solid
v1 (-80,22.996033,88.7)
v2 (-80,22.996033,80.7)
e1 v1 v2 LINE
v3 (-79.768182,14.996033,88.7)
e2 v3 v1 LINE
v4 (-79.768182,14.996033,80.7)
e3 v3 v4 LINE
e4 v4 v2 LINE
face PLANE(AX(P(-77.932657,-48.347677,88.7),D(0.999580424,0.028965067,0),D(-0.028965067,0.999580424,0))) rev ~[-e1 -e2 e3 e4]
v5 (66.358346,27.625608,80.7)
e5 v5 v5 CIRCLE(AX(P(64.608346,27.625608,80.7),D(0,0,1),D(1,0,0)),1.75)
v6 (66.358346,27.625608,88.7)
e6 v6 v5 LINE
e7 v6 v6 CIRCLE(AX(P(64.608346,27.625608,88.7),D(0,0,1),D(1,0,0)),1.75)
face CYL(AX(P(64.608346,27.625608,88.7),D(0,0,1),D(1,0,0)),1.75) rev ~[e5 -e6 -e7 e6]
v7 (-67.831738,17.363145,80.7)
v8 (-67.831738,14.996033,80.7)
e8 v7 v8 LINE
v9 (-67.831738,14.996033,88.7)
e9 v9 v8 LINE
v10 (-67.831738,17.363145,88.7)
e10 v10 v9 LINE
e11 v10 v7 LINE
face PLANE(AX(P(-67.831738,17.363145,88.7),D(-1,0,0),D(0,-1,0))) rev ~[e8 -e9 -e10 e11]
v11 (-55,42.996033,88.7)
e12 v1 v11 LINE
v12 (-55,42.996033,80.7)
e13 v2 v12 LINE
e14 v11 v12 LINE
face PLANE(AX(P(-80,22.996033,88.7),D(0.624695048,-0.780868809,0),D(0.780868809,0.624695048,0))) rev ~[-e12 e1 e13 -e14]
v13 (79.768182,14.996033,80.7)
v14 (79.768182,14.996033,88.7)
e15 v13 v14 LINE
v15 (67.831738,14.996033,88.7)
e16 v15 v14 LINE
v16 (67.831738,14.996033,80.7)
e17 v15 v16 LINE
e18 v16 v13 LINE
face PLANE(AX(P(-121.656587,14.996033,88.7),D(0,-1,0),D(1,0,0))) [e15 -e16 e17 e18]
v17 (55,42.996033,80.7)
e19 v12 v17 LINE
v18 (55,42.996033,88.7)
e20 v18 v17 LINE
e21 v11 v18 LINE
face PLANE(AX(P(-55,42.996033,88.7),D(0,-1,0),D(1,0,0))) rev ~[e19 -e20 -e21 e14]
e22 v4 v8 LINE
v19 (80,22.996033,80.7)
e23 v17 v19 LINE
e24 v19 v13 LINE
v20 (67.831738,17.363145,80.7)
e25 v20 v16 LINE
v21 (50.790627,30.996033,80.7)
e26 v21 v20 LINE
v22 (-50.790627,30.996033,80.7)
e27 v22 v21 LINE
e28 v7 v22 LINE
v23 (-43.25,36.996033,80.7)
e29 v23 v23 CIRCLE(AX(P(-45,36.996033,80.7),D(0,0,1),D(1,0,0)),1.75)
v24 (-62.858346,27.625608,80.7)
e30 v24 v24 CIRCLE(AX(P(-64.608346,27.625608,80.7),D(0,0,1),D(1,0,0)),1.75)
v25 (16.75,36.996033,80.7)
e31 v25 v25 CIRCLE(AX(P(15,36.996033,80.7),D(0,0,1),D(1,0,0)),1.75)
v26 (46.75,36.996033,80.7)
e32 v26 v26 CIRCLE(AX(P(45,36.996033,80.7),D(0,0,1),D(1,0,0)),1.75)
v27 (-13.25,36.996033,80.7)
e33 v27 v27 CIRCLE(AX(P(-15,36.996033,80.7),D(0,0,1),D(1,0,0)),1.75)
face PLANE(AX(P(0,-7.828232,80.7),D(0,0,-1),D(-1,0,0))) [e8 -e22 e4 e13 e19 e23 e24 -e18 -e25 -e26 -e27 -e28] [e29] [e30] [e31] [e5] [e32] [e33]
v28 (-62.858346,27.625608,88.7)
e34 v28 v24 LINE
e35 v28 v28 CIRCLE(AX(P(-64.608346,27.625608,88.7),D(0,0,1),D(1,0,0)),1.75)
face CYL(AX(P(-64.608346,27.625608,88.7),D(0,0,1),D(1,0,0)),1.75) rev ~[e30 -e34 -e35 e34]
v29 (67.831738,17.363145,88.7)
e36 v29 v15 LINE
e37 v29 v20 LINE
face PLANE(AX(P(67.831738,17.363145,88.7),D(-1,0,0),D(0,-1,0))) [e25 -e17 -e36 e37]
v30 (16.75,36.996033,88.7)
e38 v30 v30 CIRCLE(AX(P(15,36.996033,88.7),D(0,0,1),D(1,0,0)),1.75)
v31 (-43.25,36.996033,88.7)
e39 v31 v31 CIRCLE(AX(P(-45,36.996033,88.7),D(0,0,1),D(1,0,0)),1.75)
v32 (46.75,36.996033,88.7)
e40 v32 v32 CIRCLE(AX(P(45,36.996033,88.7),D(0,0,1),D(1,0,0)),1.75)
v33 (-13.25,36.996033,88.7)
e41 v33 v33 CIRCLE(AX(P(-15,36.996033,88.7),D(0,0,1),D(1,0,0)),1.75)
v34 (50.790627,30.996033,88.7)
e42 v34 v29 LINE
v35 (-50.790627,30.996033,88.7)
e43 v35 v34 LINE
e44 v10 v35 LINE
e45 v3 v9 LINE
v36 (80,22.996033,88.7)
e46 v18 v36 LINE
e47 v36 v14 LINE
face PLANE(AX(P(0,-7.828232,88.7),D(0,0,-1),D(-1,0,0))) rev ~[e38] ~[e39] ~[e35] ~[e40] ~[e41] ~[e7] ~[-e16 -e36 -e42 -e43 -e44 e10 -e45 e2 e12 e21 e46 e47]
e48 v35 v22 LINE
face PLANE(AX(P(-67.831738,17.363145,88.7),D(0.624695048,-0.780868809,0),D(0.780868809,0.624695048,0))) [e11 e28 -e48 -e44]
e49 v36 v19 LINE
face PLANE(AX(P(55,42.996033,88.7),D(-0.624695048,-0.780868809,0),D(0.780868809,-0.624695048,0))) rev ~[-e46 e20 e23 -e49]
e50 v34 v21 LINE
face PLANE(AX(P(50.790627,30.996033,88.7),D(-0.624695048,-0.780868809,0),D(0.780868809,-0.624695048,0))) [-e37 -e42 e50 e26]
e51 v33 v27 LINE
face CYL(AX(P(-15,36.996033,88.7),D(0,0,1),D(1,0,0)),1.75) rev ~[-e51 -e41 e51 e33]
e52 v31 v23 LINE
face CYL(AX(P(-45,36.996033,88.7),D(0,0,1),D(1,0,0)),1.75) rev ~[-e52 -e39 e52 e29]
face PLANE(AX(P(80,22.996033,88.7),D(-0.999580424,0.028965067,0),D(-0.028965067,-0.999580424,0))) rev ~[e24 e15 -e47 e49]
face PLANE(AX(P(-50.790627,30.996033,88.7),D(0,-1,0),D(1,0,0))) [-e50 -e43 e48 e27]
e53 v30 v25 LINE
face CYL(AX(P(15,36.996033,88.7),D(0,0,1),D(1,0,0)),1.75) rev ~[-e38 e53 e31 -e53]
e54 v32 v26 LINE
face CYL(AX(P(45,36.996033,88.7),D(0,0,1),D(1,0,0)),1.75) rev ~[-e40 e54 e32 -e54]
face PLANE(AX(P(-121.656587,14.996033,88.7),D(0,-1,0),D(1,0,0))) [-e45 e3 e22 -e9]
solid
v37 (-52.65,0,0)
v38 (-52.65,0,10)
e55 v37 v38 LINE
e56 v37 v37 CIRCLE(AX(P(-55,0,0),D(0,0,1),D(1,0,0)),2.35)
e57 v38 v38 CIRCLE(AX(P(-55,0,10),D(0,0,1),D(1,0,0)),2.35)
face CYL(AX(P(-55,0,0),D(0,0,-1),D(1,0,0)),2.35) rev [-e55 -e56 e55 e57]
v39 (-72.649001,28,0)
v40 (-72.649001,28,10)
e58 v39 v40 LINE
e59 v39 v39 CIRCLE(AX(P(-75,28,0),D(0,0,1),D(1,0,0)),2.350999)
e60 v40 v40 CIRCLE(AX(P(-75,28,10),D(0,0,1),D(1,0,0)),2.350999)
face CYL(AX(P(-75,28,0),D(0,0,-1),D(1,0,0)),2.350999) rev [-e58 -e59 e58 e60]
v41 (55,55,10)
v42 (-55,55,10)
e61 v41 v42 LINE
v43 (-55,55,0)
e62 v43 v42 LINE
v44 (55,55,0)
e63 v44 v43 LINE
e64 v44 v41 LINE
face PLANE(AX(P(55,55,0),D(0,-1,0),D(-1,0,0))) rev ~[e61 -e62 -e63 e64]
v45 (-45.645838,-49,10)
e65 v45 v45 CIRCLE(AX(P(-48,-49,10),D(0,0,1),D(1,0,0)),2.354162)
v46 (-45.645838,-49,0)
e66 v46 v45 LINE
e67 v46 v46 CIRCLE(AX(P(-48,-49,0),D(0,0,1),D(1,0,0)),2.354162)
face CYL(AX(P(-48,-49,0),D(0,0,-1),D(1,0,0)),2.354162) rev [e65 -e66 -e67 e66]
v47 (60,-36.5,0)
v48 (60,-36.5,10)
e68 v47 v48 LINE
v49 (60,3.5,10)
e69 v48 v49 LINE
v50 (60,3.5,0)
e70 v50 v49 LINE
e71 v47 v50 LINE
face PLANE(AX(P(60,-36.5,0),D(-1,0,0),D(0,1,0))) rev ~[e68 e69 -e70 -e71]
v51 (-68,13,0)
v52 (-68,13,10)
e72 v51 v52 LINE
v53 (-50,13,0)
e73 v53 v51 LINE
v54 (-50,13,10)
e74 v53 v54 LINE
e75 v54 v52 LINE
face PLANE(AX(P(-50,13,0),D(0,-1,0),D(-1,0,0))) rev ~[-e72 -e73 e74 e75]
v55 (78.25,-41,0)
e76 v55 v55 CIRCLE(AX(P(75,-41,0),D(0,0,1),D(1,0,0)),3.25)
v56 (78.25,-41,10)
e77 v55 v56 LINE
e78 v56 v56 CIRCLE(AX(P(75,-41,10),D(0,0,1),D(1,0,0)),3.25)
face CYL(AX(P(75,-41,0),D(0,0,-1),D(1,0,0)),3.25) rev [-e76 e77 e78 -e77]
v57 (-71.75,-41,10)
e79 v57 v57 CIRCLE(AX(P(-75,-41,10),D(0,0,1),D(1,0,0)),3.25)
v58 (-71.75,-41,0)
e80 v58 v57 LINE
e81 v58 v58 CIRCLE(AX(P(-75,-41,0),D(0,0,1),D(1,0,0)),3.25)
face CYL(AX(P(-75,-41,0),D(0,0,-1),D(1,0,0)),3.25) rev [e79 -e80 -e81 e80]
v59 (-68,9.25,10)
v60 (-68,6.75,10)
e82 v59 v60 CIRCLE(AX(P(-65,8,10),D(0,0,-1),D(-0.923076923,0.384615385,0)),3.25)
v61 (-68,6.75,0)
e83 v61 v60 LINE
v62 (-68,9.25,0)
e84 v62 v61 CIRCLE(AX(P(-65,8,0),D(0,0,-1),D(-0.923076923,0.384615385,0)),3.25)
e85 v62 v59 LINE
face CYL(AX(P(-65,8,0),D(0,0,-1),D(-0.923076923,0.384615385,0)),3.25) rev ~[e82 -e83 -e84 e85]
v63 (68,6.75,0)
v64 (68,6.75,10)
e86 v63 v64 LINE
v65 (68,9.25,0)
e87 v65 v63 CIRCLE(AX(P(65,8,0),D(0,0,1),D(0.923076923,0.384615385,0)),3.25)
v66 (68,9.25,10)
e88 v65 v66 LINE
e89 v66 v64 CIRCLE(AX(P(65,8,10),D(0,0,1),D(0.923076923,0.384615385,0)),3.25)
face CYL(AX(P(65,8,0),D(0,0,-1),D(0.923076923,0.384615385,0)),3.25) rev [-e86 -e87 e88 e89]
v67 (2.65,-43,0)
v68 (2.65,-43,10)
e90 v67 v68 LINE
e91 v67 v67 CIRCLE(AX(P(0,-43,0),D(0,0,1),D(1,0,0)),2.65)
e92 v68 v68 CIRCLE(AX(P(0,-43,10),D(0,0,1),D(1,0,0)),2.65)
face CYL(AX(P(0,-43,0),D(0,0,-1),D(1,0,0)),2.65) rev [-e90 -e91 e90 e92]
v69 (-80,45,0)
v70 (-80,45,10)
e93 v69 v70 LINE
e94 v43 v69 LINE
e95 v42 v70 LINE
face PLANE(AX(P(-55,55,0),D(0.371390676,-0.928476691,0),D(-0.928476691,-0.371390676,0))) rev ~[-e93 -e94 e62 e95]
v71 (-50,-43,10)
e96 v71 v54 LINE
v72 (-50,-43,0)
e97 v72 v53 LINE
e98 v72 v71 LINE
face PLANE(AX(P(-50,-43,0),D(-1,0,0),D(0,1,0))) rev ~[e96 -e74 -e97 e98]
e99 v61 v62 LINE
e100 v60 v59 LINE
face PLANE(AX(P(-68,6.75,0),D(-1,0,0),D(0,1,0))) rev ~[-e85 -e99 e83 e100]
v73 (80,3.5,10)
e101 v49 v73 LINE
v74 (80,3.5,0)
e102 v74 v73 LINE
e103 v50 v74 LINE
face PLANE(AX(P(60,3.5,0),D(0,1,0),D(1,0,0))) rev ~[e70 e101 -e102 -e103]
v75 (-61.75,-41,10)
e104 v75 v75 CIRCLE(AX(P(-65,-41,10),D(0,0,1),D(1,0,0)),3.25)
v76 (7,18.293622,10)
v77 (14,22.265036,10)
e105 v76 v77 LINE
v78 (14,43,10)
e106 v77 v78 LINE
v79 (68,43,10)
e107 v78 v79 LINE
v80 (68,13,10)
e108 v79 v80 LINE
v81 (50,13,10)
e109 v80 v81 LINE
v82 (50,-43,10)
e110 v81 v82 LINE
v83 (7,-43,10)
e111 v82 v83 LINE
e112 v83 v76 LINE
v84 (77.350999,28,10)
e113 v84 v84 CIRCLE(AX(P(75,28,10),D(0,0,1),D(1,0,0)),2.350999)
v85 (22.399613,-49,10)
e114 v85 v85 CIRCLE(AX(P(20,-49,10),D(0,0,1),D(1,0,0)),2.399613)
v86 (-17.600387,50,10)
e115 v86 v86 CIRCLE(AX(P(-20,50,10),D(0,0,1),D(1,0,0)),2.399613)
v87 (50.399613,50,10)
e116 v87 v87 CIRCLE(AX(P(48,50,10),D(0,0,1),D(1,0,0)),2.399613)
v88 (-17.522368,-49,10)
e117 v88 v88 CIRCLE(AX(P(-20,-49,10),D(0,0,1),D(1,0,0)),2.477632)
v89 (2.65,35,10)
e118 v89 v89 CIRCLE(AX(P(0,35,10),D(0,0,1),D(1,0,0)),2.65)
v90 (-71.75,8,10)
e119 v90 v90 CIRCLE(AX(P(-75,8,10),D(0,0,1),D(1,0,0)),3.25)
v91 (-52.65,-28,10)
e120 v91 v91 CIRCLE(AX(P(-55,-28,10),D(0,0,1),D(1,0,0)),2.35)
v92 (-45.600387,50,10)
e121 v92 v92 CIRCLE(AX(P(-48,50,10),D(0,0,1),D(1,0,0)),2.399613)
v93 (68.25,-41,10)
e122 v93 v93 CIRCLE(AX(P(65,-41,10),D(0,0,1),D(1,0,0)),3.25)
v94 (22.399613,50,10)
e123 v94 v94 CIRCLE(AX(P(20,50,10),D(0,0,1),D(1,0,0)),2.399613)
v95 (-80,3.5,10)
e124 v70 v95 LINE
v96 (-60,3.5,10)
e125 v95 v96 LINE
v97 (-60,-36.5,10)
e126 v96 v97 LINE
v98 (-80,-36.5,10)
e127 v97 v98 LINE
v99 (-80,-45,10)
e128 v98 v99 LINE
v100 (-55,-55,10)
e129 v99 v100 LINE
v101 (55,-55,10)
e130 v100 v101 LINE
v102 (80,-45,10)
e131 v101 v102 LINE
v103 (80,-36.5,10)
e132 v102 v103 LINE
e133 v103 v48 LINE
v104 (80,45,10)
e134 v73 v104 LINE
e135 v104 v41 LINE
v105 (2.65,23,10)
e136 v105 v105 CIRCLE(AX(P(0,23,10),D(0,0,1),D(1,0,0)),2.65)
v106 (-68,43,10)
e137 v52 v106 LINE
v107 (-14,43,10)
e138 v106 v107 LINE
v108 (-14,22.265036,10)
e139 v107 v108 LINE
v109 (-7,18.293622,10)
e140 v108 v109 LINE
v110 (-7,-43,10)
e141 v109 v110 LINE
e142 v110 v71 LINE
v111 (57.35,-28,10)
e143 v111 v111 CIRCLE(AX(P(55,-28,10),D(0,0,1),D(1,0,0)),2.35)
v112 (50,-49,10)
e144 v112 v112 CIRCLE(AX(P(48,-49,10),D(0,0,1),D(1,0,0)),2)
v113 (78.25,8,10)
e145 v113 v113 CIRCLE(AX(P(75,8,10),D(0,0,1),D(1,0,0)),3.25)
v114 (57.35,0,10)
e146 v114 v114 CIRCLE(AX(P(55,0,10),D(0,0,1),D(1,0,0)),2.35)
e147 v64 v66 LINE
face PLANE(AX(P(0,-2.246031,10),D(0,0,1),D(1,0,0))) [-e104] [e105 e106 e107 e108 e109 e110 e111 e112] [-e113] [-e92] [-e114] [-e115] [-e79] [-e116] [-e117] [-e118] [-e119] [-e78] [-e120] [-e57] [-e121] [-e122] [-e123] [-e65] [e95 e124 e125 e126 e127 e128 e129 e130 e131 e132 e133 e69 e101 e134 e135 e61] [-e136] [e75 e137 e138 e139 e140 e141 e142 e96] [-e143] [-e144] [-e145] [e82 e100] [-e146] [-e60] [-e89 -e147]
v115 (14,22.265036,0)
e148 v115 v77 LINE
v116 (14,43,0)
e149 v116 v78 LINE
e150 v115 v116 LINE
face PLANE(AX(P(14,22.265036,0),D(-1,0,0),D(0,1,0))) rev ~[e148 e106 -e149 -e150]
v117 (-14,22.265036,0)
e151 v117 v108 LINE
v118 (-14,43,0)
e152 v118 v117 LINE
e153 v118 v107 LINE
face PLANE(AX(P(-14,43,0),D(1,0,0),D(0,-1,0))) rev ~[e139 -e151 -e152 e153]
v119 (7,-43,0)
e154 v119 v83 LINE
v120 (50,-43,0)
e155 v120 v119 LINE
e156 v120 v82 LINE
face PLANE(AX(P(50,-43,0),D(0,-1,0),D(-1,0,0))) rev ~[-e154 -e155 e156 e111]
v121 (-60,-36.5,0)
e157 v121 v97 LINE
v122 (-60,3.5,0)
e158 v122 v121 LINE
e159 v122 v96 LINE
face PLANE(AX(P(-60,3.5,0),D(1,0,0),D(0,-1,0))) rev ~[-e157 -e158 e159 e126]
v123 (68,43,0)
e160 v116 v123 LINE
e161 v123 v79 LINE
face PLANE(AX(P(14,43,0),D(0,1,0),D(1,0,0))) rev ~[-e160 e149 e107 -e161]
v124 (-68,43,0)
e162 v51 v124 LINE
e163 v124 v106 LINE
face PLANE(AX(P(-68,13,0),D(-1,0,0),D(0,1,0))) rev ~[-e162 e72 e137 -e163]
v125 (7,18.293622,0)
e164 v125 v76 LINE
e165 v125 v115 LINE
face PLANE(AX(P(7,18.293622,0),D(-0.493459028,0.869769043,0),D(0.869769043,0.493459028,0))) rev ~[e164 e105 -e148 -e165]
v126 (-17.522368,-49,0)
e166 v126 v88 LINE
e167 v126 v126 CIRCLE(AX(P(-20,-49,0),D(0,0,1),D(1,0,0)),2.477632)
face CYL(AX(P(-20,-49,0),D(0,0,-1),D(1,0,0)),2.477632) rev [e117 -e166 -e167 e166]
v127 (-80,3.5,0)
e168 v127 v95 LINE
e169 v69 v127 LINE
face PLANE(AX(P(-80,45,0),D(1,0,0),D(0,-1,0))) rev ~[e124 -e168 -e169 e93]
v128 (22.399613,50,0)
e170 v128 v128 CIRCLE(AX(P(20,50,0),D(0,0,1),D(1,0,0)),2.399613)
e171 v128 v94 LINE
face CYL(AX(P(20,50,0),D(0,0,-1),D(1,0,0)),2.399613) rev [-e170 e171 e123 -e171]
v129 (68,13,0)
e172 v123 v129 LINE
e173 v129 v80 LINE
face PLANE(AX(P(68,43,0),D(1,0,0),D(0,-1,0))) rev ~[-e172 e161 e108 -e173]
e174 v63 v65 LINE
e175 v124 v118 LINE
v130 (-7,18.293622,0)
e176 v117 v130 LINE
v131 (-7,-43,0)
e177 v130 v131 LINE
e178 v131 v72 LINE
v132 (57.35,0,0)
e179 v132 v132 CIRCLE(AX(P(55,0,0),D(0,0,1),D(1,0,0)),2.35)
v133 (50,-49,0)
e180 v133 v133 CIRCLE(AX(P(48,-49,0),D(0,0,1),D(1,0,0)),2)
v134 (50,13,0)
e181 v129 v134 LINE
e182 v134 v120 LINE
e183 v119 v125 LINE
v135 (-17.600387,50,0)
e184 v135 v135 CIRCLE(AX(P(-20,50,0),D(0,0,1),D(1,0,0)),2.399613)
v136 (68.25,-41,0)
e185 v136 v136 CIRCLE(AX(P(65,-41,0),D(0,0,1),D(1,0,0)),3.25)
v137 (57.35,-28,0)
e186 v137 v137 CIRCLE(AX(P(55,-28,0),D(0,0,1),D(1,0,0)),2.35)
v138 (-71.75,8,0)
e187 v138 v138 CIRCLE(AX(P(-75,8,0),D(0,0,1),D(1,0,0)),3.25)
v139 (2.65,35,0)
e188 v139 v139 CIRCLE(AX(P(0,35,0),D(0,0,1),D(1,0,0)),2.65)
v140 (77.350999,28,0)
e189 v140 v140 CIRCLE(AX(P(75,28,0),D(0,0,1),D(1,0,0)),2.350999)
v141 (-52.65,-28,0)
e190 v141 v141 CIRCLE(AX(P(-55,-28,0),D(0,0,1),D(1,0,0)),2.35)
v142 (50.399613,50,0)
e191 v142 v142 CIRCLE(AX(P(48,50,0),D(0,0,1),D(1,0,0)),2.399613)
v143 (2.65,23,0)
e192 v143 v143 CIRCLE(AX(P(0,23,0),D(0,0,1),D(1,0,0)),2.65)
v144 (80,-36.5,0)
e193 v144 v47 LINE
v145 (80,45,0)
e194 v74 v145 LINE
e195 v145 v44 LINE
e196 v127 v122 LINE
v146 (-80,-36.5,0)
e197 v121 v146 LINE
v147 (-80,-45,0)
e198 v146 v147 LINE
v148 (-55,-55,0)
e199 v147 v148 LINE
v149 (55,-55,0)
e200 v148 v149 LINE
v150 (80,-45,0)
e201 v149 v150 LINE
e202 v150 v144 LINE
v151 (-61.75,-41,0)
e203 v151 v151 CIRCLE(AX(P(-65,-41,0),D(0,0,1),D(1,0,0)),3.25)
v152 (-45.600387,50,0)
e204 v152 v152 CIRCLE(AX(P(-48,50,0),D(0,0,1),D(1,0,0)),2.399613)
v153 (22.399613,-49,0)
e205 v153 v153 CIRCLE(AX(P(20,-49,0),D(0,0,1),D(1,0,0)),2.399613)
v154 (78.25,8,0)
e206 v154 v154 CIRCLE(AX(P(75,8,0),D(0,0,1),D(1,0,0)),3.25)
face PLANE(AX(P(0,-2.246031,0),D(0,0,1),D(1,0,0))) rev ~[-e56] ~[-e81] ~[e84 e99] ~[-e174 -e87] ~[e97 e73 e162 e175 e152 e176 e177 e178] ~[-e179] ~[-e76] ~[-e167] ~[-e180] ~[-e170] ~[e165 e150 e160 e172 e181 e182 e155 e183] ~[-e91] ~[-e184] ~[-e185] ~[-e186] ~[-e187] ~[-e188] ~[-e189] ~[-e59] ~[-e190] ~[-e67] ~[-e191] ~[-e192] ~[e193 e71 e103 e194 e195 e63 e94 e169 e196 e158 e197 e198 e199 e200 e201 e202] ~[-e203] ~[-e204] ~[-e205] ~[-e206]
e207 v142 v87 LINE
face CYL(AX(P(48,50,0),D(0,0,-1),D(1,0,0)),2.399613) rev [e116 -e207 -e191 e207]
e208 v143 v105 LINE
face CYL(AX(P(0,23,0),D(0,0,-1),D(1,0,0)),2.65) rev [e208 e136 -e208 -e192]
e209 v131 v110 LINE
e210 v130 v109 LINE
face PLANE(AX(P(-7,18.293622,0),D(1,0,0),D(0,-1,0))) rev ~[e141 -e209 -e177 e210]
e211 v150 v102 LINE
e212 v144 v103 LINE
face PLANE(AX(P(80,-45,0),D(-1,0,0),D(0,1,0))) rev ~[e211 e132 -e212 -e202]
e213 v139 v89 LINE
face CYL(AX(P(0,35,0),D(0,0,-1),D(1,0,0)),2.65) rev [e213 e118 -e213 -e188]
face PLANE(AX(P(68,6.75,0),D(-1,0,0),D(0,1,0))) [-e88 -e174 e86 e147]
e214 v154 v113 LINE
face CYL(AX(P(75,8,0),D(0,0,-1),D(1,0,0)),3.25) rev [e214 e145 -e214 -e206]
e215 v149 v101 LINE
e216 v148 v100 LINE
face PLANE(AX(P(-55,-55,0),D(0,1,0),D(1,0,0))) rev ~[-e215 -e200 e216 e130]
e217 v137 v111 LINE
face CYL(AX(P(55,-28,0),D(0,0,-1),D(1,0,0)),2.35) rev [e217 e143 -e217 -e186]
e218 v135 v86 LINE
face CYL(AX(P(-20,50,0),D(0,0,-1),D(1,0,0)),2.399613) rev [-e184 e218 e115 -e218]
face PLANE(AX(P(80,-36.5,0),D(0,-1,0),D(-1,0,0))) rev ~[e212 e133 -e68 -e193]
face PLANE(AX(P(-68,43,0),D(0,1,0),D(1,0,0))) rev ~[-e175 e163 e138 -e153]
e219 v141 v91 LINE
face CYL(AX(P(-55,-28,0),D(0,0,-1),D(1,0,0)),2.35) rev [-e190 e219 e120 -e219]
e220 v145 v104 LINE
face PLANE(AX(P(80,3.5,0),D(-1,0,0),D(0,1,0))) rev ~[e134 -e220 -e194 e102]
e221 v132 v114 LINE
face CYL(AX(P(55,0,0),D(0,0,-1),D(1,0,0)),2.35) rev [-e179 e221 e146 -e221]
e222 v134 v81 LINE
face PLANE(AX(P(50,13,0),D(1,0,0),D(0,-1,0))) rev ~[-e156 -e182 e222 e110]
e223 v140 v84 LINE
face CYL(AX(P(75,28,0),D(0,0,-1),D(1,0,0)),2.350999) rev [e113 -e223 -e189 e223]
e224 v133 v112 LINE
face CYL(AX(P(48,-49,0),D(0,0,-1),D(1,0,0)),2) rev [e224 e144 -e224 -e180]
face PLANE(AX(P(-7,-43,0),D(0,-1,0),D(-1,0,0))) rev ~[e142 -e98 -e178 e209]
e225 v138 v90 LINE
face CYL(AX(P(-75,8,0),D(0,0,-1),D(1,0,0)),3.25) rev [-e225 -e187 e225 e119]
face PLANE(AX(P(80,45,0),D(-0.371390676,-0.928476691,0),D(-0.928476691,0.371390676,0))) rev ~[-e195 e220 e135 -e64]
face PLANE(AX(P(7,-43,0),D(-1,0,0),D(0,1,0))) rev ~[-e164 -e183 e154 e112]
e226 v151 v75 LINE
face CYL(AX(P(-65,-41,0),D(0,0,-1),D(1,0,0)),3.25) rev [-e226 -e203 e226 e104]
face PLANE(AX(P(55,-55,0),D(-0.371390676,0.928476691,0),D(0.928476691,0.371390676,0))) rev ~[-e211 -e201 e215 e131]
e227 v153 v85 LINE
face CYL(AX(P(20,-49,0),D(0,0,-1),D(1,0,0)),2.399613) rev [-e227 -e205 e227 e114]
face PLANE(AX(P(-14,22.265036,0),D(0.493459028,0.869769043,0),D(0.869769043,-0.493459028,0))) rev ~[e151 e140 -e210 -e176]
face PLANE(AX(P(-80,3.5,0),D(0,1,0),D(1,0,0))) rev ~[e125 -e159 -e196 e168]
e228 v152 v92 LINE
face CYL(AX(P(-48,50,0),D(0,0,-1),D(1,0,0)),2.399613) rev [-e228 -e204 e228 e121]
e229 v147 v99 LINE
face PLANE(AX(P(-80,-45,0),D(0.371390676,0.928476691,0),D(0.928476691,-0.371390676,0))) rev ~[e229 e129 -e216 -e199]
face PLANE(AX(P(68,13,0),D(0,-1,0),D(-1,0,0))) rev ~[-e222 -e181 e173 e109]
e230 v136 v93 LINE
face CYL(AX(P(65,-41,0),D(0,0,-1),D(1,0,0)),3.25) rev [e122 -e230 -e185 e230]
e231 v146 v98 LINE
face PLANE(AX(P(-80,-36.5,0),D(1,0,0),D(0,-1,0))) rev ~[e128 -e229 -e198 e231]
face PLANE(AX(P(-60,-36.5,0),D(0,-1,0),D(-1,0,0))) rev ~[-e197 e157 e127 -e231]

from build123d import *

# Parameters (mm, degrees)
SKETCH1_R           = 2.399612855
SKETCH1_R_2         = 2.65
SKETCH1_R_3         = 2.350999085
SKETCH1_R_4         = 3.25
SKETCH1_R_5         = 2.35
SKETCH1_R_6         = 2
SKETCH1_R_7         = 2.477632292
SKETCH1_R_8         = 2.354161753
BOSS_EXTRUDE1_DEPTH = 10
SKETCH2_R           = 6
SKETCH2_R_2         = 1.75
BOSS_EXTRUDE2_DEPTH = 8
SKETCH3_W           = 243.313173006
SKETCH3_H           = 81.330853515
CUT_EXTRUDE1_DEPTH  = 8
CUT_EXTRUDE2_DEPTH  = 8


with BuildPart() as part:
    # Sketch1 → Boss-Extrude1 (new body)
    with BuildSketch(Plane.XY):
        Polygon((80, -36.5), (60, -36.5), (60, 3.5), (80, 3.5), (80, 45), (55, 55), (-55, 55), (-80, 45), (-80, 3.5), (-60, 3.5), (-60, -36.5), (-80, -36.5), (-80, -45), (-55, -55), (55, -55), (80, -45), align=None)
        with Locations((-48, 50)):
            Circle(SKETCH1_R, mode=Mode.SUBTRACT)
        with Locations((-20, 50)):
            Circle(SKETCH1_R, mode=Mode.SUBTRACT)
        with Locations((0, 35)):
            Circle(SKETCH1_R_2, mode=Mode.SUBTRACT)
        with Locations((0, 23)):
            Circle(SKETCH1_R_2, mode=Mode.SUBTRACT)
        with Locations((20, 50)):
            Circle(SKETCH1_R, mode=Mode.SUBTRACT)
        with Locations((48, 50)):
            Circle(SKETCH1_R, mode=Mode.SUBTRACT)
        with Locations((75, 28)):
            Circle(SKETCH1_R_3, mode=Mode.SUBTRACT)
        with Locations((75, 8)):
            Circle(SKETCH1_R_4, mode=Mode.SUBTRACT)
        with Locations((55, 0)):
            Circle(SKETCH1_R_5, mode=Mode.SUBTRACT)
        with Locations((55, -28)):
            Circle(SKETCH1_R_5, mode=Mode.SUBTRACT)
        with Locations((75, -41)):
            Circle(SKETCH1_R_4, mode=Mode.SUBTRACT)
        with Locations((65, -41)):
            Circle(SKETCH1_R_4, mode=Mode.SUBTRACT)
        with Locations((48, -49)):
            Circle(SKETCH1_R_6, mode=Mode.SUBTRACT)
        with Locations((20, -49)):
            Circle(SKETCH1_R, mode=Mode.SUBTRACT)
        with Locations((0, -43)):
            Circle(SKETCH1_R_2, mode=Mode.SUBTRACT)
        with Locations((-20, -49)):
            Circle(SKETCH1_R_7, mode=Mode.SUBTRACT)
        with Locations((-48, -49)):
            Circle(SKETCH1_R_8, mode=Mode.SUBTRACT)
        with Locations((-75, -41)):
            Circle(SKETCH1_R_4, mode=Mode.SUBTRACT)
        with Locations((-65, -41)):
            Circle(SKETCH1_R_4, mode=Mode.SUBTRACT)
        with Locations((-55, -28)):
            Circle(SKETCH1_R_5, mode=Mode.SUBTRACT)
        with Locations((-55, 0)):
            Circle(SKETCH1_R_5, mode=Mode.SUBTRACT)
        with Locations((-75, 8)):
            Circle(SKETCH1_R_4, mode=Mode.SUBTRACT)
        with Locations((-75, 28)):
            Circle(SKETCH1_R_3, mode=Mode.SUBTRACT)
        with BuildLine():
            Line((68, 6.75), (68, 9.25))
            ThreePointArc((68, 9.25), (61.75, 8), (68, 6.75))
        make_face(mode=Mode.SUBTRACT)
        with BuildLine():
            Line((-68, 6.75), (-68, 9.25))
            ThreePointArc((-68, 9.25), (-61.75, 8), (-68, 6.75))
        make_face(mode=Mode.SUBTRACT)
        Polygon((-50, 13), (-68, 13), (-68, 43), (-14, 43), (-14, 22.26503624), (-7, 18.293621962), (-7, -43), (-50, -43), align=None, mode=Mode.SUBTRACT)
        Polygon((50, -43), (7, -43), (7, 18.293621962), (14, 22.26503624), (14, 43), (68, 43), (68, 13), (50, 13), align=None, mode=Mode.SUBTRACT)
    extrude(amount=BOSS_EXTRUDE1_DEPTH)


with BuildPart() as body_2:
    # Sketch2 → Boss-Extrude2 (new body)
    with BuildSketch(Plane.XY.offset(88.7)):
        Polygon((-80, 22.996033378), (-55, 42.996033378), (55, 42.996033378), (80, 22.996033378), (77.932657225, -48.34767687), (70, -55.003966622), (-70, -55.003966622), (-77.932657225, -48.34767687), align=None)
        with Locations((-70, -27.003966622)):
            Circle(SKETCH2_R, mode=Mode.SUBTRACT)
        with Locations((-45, 36.996033378)):
            Circle(SKETCH2_R_2, mode=Mode.SUBTRACT)
        with Locations((-15, 36.996033378)):
            Circle(SKETCH2_R_2, mode=Mode.SUBTRACT)
        with Locations((-64.608345785, 27.625607665)):
            Circle(SKETCH2_R_2, mode=Mode.SUBTRACT)
        with Locations((-15, -49.003966622)):
            Circle(SKETCH2_R_2, mode=Mode.SUBTRACT)
        with Locations((15, -49.003966622)):
            Circle(SKETCH2_R_2, mode=Mode.SUBTRACT)
        with Locations((64.608345785, 27.625607665)):
            Circle(SKETCH2_R_2, mode=Mode.SUBTRACT)
        with Locations((15, 36.996033378)):
            Circle(SKETCH2_R_2, mode=Mode.SUBTRACT)
        with Locations((45, 36.996033378)):
            Circle(SKETCH2_R_2, mode=Mode.SUBTRACT)
        with Locations((70, -27.003966622)):
            Circle(SKETCH2_R, mode=Mode.SUBTRACT)
        with BuildLine():
            Line((-67.831737509, 17.363145201), (-50.790627288, 30.996033378))
            Line((-50.790627288, 30.996033378), (50.790627288, 30.996033378))
            Line((50.790627288, 30.996033378), (67.831737509, 17.363145201))
            Line((67.831737509, 17.363145201), (67, 14.66))
            Line((67, 14.66), (67, -11.34))
            Line((67, -11.34), (66.741852409, -20.248637298))
            ThreePointArc((66.741852409, -20.248637298), (62.503146817, -26.786728617), (66.356146477, -33.559295103))
            Line((66.356146477, -33.559295103), (66.09368314, -42.616868186))
            Line((66.09368314, -42.616868186), (65.632357189, -43.003966622))
            Line((65.632357189, -43.003966622), (-65.632357189, -43.003966622))
            Line((-65.632357189, -43.003966622), (-66.09368314, -42.616868186))
            Line((-66.09368314, -42.616868186), (-66.356146477, -33.559295103))
            ThreePointArc((-66.356146477, -33.559295103), (-62.503146817, -26.786728617), (-66.741852409, -20.248637298))
            Line((-66.741852409, -20.248637298), (-67, -11.34))
            Line((-67, -11.34), (-67, 14.66))
            Line((-67, 14.66), (-67.831737509, 17.363145201))
        make_face(mode=Mode.SUBTRACT)
    extrude(amount=-BOSS_EXTRUDE2_DEPTH)

    # Sketch3 → Cut-Extrude1 (cut)
    with BuildSketch(Plane.XY.offset(88.7)):
        with Locations((0, -25.66939338)):
            Rectangle(SKETCH3_W, SKETCH3_H)
    extrude(amount=-CUT_EXTRUDE1_DEPTH, mode=Mode.SUBTRACT)

    # Sketch4 → Cut-Extrude2 (cut)
    with BuildSketch(Plane.XY.offset(88.7)):
        Polygon((-67.831737509, 17.363145201), (-67.831737509, 14.996033378), (-67.103394951, 14.996033378), align=None)
        Polygon((67.831737509, 17.363145201), (67.831737509, 14.996033378), (67.103394951, 14.996033378), align=None)
    extrude(amount=-CUT_EXTRUDE2_DEPTH, mode=Mode.SUBTRACT)


solid = Compound([part.part, body_2.part])
